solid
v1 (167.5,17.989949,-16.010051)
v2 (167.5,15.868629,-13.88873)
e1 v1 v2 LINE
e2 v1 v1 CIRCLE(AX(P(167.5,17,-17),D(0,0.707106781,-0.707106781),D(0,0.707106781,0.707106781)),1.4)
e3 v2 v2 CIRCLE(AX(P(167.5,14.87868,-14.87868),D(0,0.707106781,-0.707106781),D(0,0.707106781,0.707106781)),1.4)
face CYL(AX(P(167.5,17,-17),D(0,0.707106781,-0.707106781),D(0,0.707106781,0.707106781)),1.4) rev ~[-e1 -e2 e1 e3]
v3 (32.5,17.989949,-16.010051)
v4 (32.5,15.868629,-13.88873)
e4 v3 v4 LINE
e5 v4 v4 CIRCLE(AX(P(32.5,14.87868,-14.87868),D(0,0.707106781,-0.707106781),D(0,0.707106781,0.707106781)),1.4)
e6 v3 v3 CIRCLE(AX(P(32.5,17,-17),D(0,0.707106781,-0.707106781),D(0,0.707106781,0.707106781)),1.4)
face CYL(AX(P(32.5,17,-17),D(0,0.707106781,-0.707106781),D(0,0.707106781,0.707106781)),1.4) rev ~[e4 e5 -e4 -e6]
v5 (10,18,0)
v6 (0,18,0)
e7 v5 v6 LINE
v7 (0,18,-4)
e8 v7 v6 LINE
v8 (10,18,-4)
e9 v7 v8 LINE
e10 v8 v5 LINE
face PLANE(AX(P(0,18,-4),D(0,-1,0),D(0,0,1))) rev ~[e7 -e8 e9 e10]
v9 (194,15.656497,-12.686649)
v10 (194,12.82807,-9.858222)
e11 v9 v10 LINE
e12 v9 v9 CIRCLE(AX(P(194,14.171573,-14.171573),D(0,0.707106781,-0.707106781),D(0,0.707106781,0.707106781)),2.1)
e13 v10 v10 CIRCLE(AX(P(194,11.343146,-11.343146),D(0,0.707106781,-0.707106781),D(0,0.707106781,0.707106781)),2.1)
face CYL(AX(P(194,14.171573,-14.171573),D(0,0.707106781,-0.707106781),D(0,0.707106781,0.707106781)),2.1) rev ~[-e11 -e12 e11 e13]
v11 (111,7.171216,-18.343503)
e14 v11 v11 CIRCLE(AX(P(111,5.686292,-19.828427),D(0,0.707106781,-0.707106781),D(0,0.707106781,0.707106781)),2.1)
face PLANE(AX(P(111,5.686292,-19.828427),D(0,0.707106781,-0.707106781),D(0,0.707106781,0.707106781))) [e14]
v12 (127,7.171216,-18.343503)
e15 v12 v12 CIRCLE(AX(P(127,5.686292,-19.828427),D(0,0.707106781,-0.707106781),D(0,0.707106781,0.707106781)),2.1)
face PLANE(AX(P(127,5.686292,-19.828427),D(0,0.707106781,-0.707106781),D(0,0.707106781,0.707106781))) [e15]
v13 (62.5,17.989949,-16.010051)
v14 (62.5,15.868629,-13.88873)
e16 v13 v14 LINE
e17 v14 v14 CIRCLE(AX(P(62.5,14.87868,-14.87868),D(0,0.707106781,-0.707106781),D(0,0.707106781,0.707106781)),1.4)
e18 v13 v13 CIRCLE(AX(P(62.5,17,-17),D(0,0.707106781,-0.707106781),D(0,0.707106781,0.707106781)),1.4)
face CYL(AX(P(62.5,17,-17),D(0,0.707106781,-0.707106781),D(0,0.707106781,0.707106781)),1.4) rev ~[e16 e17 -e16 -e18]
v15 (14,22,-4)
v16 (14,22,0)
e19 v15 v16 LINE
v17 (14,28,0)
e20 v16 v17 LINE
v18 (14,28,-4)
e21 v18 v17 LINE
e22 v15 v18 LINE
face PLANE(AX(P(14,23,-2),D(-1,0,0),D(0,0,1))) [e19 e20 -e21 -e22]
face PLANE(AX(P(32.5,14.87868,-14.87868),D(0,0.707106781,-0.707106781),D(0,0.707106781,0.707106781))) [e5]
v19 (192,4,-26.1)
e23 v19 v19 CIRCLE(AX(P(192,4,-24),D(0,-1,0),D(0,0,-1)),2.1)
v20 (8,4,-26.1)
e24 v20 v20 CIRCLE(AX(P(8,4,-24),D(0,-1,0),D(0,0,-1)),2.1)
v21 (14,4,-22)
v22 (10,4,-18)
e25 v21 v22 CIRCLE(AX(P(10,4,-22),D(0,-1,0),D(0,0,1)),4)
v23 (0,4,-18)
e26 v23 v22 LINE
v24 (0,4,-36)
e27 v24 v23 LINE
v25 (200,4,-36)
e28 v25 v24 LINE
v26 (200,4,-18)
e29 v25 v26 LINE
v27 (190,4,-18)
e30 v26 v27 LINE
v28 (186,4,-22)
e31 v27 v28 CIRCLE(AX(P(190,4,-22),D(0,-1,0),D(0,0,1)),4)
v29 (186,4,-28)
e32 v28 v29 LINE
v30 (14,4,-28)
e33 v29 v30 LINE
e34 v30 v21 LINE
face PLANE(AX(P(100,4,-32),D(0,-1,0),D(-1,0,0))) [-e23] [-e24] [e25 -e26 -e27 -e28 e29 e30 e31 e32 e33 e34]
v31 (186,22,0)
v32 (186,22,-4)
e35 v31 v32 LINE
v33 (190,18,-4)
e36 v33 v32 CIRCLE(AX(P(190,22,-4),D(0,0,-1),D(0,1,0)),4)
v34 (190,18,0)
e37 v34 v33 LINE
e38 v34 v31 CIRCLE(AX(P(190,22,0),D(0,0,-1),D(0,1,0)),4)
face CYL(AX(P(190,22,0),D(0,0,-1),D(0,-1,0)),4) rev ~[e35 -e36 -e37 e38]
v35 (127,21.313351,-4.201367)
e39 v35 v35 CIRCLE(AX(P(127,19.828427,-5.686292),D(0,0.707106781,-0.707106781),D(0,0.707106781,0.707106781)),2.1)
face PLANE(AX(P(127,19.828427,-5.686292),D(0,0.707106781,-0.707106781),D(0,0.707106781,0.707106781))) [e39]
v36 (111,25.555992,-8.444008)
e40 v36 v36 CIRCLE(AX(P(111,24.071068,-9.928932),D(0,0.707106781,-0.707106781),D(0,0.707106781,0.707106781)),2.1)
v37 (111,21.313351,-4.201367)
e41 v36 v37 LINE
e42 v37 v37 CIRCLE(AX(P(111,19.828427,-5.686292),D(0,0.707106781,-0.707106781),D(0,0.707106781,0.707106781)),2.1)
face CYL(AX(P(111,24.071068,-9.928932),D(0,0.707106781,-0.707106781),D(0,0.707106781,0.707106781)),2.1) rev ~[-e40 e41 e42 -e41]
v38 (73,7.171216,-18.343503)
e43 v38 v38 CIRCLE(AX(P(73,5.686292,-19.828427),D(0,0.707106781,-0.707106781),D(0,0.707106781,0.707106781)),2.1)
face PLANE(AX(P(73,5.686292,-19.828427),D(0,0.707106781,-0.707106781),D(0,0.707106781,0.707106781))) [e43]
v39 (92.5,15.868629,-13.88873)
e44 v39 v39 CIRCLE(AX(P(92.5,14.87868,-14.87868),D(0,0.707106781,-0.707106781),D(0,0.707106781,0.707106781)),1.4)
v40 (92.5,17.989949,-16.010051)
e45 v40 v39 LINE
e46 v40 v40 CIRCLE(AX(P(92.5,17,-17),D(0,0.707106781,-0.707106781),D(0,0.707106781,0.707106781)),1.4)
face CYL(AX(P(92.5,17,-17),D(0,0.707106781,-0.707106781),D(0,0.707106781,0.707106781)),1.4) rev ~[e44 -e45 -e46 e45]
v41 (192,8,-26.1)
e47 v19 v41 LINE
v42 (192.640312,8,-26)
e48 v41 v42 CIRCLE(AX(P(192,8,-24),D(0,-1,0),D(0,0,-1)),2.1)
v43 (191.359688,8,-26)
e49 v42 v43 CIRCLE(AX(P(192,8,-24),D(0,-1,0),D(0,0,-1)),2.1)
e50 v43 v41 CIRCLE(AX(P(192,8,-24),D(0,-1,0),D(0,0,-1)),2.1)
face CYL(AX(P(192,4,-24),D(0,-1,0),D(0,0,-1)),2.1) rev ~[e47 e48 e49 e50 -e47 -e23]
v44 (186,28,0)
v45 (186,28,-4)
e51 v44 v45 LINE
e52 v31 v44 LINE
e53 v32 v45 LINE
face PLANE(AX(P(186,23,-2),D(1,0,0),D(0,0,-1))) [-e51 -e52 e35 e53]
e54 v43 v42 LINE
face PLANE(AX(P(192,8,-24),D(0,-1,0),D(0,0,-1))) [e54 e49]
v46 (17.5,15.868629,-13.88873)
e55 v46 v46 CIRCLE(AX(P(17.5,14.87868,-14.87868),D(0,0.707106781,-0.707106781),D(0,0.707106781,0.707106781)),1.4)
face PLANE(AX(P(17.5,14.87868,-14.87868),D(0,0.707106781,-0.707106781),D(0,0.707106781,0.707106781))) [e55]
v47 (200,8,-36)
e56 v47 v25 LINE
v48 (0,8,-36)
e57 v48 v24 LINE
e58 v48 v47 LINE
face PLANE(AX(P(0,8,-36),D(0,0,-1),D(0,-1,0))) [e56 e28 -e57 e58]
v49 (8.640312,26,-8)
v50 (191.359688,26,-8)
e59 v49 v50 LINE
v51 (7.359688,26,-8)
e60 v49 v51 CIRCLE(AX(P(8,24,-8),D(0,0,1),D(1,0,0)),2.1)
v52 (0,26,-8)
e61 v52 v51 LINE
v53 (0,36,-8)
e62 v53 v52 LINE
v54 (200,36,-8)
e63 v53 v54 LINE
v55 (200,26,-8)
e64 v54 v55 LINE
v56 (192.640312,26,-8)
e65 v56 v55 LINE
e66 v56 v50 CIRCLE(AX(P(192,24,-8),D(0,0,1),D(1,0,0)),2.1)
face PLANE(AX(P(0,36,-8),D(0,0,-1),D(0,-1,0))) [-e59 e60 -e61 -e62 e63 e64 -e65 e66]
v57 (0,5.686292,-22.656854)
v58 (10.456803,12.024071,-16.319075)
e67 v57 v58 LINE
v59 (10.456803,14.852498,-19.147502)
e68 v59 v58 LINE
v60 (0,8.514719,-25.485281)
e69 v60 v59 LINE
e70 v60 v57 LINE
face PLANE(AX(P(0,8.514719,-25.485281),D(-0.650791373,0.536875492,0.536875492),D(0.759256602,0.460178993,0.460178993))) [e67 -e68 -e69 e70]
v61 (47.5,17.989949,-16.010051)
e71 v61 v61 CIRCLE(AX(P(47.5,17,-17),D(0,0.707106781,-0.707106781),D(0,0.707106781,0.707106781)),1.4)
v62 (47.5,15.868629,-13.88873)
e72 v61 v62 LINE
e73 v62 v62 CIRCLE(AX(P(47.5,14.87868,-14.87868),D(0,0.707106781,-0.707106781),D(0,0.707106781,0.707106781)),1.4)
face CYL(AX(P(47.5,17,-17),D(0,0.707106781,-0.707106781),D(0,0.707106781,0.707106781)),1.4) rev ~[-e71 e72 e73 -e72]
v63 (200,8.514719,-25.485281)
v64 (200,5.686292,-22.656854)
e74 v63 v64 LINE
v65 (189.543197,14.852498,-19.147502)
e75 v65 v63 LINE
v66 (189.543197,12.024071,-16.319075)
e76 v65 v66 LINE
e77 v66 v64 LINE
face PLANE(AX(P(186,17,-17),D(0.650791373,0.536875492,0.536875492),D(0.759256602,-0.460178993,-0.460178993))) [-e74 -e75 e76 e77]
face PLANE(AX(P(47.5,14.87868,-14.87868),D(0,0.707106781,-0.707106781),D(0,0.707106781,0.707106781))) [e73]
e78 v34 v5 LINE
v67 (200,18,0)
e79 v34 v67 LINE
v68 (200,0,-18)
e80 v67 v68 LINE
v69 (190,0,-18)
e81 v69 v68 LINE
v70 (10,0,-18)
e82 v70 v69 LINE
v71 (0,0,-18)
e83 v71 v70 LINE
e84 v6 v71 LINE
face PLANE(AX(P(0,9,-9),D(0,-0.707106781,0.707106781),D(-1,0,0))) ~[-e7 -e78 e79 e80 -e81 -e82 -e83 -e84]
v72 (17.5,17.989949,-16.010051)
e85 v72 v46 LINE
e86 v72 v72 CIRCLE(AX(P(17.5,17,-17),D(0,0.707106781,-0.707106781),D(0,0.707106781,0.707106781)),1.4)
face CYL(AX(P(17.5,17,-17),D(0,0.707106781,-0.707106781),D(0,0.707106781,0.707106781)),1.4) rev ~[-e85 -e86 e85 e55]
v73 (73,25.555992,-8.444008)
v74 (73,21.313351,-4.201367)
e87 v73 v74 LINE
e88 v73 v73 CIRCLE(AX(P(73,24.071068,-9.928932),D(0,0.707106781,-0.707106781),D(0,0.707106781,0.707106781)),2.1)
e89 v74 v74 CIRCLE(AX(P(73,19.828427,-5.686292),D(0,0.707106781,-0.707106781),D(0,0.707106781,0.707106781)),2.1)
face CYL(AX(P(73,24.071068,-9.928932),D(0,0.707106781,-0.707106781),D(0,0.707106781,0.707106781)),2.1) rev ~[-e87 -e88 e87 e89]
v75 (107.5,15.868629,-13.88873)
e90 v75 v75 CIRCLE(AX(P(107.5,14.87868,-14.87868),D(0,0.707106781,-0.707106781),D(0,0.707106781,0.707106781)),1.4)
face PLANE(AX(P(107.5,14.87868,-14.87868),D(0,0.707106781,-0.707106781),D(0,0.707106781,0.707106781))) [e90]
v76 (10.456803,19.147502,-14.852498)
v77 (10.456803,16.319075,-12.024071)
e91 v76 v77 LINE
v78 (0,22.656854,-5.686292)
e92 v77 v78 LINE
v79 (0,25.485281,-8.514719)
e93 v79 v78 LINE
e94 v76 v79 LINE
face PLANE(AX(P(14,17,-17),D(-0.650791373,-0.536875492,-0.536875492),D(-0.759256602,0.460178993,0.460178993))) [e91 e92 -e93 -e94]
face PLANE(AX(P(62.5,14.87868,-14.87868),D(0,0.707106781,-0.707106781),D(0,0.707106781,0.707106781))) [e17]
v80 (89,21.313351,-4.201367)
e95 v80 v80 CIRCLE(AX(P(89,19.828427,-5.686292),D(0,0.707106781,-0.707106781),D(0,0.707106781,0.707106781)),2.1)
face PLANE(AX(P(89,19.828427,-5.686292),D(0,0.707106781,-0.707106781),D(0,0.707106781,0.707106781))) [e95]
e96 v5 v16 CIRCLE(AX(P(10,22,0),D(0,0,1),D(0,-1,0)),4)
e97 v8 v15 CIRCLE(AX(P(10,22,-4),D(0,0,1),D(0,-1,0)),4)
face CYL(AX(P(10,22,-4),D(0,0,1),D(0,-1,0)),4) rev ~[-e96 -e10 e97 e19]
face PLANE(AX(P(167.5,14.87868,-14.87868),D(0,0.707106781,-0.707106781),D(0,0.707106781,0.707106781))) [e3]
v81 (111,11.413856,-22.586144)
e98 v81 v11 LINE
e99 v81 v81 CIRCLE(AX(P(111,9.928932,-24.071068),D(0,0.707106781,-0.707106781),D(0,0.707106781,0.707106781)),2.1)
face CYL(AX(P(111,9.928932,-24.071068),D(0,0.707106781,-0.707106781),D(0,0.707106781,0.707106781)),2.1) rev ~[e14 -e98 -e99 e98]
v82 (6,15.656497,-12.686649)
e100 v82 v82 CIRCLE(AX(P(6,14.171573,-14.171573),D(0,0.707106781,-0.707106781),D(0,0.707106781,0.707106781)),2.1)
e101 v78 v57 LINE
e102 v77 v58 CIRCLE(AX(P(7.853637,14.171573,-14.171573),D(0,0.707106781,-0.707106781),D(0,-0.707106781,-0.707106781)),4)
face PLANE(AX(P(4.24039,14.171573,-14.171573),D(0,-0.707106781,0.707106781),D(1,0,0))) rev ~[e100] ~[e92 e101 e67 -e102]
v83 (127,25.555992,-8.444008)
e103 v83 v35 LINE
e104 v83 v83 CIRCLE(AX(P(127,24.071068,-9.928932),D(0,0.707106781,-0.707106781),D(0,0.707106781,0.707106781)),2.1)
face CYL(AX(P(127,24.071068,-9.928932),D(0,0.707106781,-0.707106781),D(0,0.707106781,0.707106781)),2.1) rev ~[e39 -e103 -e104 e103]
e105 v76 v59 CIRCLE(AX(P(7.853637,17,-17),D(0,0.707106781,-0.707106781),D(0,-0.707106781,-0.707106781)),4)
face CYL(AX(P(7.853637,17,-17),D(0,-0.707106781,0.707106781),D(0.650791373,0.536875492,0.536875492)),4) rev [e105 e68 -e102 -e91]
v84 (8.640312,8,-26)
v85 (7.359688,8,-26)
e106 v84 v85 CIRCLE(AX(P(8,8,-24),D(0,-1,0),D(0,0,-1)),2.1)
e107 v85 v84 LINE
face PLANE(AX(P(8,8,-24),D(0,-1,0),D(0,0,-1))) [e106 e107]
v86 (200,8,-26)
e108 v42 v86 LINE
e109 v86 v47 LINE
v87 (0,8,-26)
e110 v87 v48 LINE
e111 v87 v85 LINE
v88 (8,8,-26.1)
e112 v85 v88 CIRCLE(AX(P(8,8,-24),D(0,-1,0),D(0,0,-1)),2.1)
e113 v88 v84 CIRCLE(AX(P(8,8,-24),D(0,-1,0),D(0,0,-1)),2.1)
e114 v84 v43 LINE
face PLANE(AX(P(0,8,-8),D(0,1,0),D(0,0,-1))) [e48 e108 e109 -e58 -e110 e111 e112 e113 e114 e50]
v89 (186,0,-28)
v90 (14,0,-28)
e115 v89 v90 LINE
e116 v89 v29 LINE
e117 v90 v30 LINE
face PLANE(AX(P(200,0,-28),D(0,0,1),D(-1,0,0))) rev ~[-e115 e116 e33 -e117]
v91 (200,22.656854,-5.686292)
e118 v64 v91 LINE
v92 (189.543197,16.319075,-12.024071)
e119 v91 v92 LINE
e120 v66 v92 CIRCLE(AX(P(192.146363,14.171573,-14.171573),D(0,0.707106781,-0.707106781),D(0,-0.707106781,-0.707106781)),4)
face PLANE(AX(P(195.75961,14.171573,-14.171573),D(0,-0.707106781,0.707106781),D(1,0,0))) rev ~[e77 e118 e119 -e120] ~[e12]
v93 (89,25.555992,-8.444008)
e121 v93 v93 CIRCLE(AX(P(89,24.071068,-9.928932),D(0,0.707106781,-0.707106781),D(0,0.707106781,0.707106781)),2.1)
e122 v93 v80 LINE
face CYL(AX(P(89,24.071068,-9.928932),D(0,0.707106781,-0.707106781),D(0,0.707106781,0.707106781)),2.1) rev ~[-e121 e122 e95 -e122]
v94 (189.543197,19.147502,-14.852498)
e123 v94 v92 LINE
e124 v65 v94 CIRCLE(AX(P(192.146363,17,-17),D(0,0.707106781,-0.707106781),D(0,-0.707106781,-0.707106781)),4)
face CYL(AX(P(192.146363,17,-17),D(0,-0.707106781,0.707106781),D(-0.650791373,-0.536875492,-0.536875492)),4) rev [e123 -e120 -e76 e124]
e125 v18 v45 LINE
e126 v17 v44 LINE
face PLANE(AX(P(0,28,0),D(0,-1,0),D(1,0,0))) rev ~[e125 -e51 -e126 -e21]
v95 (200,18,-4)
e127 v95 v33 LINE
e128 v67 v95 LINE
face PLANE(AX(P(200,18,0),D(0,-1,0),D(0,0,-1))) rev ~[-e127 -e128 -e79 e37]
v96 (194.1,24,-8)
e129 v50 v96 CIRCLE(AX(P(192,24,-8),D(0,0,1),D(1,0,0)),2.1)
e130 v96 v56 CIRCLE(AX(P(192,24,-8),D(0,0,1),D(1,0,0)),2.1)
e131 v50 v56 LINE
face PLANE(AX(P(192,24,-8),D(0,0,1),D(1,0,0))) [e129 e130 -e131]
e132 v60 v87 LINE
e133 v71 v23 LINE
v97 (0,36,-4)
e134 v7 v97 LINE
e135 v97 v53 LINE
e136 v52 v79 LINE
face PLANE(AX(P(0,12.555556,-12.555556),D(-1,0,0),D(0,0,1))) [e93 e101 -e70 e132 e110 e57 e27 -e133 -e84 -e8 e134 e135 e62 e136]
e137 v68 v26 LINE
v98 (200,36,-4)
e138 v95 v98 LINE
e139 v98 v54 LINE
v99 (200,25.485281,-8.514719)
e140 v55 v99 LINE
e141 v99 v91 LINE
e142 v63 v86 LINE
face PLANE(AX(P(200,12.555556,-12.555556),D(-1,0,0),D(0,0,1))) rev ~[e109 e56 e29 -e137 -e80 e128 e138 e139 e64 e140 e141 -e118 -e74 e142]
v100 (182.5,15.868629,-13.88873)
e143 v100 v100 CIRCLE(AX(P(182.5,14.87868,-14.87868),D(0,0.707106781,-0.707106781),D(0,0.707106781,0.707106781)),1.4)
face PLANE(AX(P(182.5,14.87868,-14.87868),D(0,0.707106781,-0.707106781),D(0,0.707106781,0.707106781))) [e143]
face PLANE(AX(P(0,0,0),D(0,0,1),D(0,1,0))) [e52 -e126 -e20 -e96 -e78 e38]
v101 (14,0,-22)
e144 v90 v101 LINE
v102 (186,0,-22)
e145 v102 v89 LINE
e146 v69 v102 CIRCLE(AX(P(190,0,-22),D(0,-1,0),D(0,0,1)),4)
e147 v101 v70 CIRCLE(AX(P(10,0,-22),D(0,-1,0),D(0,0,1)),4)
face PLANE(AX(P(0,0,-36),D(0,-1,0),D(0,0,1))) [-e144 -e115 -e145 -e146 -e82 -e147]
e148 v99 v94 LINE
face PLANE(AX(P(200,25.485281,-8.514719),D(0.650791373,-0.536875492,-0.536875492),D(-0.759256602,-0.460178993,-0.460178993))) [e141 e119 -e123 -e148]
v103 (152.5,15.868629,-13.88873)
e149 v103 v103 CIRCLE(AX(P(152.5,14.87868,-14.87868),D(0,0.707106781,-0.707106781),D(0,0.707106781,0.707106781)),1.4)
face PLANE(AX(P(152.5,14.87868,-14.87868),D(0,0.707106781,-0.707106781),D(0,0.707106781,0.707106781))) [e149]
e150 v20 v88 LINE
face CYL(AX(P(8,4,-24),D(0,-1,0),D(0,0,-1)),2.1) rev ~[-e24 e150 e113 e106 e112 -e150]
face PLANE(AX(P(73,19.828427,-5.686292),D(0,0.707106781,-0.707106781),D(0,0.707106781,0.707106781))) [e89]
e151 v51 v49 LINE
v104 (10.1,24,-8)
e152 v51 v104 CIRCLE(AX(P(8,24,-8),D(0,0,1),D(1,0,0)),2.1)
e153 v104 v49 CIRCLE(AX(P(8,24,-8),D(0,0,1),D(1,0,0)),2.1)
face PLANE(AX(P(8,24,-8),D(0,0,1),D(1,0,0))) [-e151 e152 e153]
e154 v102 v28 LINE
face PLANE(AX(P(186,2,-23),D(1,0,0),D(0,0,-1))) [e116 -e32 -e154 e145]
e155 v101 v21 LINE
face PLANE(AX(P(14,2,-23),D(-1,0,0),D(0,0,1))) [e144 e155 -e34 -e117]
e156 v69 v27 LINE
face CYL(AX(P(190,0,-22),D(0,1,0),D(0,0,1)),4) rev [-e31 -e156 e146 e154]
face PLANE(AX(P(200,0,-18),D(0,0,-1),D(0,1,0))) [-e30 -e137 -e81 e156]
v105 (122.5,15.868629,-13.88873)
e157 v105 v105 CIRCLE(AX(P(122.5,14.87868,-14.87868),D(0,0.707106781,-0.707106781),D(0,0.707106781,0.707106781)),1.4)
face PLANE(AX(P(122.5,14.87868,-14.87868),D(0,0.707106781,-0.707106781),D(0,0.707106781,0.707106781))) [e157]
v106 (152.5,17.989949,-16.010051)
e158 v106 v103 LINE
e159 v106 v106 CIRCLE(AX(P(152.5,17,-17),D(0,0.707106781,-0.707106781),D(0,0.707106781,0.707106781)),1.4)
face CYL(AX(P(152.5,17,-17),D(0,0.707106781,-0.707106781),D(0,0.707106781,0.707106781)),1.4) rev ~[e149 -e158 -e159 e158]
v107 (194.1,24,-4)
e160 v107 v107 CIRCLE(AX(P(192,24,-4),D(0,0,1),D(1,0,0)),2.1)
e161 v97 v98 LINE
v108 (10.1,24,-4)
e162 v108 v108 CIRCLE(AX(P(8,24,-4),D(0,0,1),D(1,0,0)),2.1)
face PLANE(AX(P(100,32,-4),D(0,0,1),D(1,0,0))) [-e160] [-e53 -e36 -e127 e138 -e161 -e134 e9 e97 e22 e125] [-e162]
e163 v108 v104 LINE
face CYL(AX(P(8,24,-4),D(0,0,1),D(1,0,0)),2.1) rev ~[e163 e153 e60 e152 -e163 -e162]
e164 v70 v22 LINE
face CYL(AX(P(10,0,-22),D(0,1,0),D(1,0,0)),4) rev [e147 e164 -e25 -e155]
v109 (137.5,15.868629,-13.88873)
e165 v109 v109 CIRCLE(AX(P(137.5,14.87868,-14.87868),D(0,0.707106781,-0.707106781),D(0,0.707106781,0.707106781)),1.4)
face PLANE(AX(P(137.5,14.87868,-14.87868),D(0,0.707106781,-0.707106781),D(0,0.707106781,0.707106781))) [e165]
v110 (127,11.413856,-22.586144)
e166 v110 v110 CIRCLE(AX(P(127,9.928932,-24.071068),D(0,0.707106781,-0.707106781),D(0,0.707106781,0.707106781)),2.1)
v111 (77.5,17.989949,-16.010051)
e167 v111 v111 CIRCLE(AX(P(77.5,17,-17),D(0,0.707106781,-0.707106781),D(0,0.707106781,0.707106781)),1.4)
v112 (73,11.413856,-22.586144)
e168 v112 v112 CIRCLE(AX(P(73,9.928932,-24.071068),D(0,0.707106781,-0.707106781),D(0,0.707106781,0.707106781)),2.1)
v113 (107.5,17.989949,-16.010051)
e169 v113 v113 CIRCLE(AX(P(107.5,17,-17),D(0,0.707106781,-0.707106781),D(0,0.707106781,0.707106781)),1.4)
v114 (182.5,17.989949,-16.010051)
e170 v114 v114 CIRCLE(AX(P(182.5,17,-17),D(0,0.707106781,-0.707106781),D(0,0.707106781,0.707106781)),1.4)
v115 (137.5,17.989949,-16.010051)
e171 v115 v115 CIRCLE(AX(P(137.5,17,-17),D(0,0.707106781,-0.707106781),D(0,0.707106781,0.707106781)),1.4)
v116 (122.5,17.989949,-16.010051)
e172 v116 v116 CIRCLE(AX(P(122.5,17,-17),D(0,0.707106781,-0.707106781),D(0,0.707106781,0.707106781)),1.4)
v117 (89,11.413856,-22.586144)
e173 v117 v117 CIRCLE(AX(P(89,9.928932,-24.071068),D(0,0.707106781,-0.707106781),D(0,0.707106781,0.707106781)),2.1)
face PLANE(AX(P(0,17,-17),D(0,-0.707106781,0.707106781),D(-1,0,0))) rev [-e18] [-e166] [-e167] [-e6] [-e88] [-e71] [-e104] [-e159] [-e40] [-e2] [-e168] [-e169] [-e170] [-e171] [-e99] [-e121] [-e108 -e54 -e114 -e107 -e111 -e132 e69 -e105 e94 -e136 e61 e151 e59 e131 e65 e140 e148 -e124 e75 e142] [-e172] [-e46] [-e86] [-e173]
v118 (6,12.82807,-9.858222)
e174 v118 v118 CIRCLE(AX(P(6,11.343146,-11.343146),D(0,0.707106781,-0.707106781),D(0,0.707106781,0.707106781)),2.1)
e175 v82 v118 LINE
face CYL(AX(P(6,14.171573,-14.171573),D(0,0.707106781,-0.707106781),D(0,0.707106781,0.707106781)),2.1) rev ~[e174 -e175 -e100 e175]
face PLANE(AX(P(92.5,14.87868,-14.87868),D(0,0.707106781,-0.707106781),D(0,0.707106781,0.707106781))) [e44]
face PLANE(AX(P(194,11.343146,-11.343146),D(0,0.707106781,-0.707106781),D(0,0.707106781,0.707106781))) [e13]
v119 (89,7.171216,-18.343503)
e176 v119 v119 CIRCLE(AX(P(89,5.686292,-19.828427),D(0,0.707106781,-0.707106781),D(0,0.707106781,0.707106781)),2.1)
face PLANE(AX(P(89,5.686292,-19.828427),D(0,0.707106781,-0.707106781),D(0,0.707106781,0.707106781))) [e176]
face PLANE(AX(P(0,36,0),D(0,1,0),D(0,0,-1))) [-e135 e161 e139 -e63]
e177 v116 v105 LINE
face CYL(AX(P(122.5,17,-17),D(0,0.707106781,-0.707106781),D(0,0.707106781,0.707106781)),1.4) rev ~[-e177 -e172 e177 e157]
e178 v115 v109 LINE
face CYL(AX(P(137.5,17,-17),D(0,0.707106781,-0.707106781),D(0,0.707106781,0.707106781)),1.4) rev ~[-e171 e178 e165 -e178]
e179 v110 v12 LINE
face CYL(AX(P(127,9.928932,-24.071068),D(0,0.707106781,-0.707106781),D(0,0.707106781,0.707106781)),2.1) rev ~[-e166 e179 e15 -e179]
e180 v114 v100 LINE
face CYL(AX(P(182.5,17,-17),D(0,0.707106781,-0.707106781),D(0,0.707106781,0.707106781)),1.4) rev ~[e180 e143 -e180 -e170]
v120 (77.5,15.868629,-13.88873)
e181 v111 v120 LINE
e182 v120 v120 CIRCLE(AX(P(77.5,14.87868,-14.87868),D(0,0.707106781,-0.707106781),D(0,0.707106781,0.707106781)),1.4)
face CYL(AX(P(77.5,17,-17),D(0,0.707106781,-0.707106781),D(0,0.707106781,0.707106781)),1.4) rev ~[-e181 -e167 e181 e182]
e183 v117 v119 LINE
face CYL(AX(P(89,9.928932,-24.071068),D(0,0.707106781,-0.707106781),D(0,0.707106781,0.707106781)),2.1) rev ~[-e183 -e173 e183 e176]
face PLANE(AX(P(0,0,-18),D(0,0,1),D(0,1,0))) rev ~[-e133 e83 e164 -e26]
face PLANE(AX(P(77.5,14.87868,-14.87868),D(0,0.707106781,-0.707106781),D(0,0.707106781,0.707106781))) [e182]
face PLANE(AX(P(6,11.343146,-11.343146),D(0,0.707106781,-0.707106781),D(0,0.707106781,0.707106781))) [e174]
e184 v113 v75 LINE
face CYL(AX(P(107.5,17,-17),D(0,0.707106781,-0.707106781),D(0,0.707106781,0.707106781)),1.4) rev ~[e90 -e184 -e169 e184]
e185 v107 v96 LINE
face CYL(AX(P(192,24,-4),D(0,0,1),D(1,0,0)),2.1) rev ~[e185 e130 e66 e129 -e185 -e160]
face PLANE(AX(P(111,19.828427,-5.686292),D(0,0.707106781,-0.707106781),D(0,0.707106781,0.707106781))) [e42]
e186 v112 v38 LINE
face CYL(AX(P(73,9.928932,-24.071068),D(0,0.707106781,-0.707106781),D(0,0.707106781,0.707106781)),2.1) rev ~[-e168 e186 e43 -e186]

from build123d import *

# Parameters (mm, degrees)
BOSS_EXTRUDE3_DEPTH = 200
CHAMFER2_SIZE       = 18
CHAMFER3_SIZE       = 18
SKETCH6_W           = 200
SKETCH6_H           = 8
CUT_EXTRUDE2_DEPTH  = 4
SKETCH7_W           = 200
SKETCH7_H           = 8
CUT_EXTRUDE3_DEPTH  = 4
SKETCH8_R           = 1.4
CUT_EXTRUDE4_DEPTH  = 3
SKETCH9_R           = 2.1
CUT_EXTRUDE5_DEPTH  = 6
SKETCH10_R          = 2.1
CUT_EXTRUDE6_DEPTH  = 6
CUT_EXTRUDE7_DEPTH  = 4
SKETCH12_W          = 4
SKETCH12_H          = 10
SKETCH12_W_2        = 10
SKETCH12_H_2        = 4
CUT_EXTRUDE8_DEPTH  = 14
FILLET1_R           = 4
FILLET2_R           = 4
SKETCH13_W          = 4
SKETCH13_H          = 10
SKETCH13_W_2        = 10
SKETCH13_H_2        = 4
CUT_EXTRUDE9_DEPTH  = 14
FILLET3_R           = 4
SKETCH14_R          = 2.1
CUT_EXTRUDE10_DEPTH = 4
SKETCH15_R          = 2.1
CUT_EXTRUDE11_DEPTH = 4
SKETCH16_R          = 2.1
CUT_EXTRUDE12_DEPTH = 4


with BuildPart() as part:
    # Sketch5 → Boss-Extrude3 (new body)
    with BuildSketch(Plane(origin=(0, 0, 0), x_dir=(0, 0, -1), z_dir=(1, 0, 0))):
        Polygon((0, 0), (0, 36), (8, 36), (8, 8), (36, 8), (36, 0), align=None)
    extrude(amount=BOSS_EXTRUDE3_DEPTH)

    # Chamfer2
    chamfer2_edges = [part.edges().sort_by_distance(p)[0] for p in [
        (100, 8, -8),
    ]]
    chamfer(chamfer2_edges, length=CHAMFER2_SIZE)

    # Chamfer3
    chamfer3_edges = [part.edges().sort_by_distance(p)[0] for p in [
        (100, 0, 0),
    ]]
    chamfer(chamfer3_edges, length=CHAMFER3_SIZE)

    # Sketch6 → Cut-Extrude2 (cut)
    with BuildSketch(Plane(origin=(0, 0, 0), x_dir=(-1, 0, 0), z_dir=(0, -1, 0))):
        with Locations((-100, 32)):
            Rectangle(SKETCH6_W, SKETCH6_H)
    extrude(amount=-CUT_EXTRUDE2_DEPTH, mode=Mode.SUBTRACT)

    # Sketch7 → Cut-Extrude3 (cut)
    with BuildSketch(Plane.XY):
        with Locations((100, 32)):
            Rectangle(SKETCH7_W, SKETCH7_H)
    extrude(amount=-CUT_EXTRUDE3_DEPTH, mode=Mode.SUBTRACT)

    # Sketch8 → Cut-Extrude4 (cut)
    with BuildSketch(Plane(origin=(0, 17, -17), x_dir=(-1, 0, 0), z_dir=(0, 0.7071067811865438, -0.7071067811865512))):
        with Locations(Location((-182.5, 0, 0), (0, 0, 90))):
            Circle(SKETCH8_R)
        with Locations(Location((-167.5, 0, 0), (0, 0, 90))):
            Circle(SKETCH8_R)
        with Locations(Location((-152.5, 0, 0), (0, 0, 90))):
            Circle(SKETCH8_R)
        with Locations(Location((-137.5, 0, 0), (0, 0, 90))):
            Circle(SKETCH8_R)
        with Locations(Location((-122.5, 0, 0), (0, 0, 90))):
            Circle(SKETCH8_R)
        with Locations(Location((-107.5, 0, 0), (0, 0, 90))):
            Circle(SKETCH8_R)
        with Locations(Location((-92.5, 0, 0), (0, 0, 90))):
            Circle(SKETCH8_R)
        with Locations(Location((-77.5, 0, 0), (0, 0, 90))):
            Circle(SKETCH8_R)
        with Locations(Location((-62.5, 0, 0), (0, 0, 90))):
            Circle(SKETCH8_R)
        with Locations(Location((-47.5, 0, 0), (0, 0, 90))):
            Circle(SKETCH8_R)
        with Locations(Location((-32.5, 0, 0), (0, 0, 90))):
            Circle(SKETCH8_R)
        with Locations(Location((-17.5, 0, 0), (0, 0, 90))):
            Circle(SKETCH8_R)
    extrude(amount=-CUT_EXTRUDE4_DEPTH, mode=Mode.SUBTRACT)

    # Sketch9 → Cut-Extrude5 (cut)
    with BuildSketch(Plane(origin=(0, 17, -17), x_dir=(-1, 0, 0), z_dir=(0, 0.7071067811865438, -0.7071067811865512))):
        with Locations(Location((-73, -10, 0), (0, 0, 90))):
            Circle(SKETCH9_R)
        with Locations(Location((-127, -10, 0), (0, 0, 90))):
            Circle(SKETCH9_R)
        with Locations(Location((-127, 10, 0), (0, 0, 90))):
            Circle(SKETCH9_R)
        with Locations(Location((-73, 10, 0), (0, 0, 90))):
            Circle(SKETCH9_R)
    extrude(amount=-CUT_EXTRUDE5_DEPTH, mode=Mode.SUBTRACT)

    # Sketch10 → Cut-Extrude6 (cut)
    with BuildSketch(Plane(origin=(0, 17, -17), x_dir=(-1, 0, 0), z_dir=(0, 0.7071067811865438, -0.7071067811865512))):
        with Locations(Location((-89, -10, 0), (0, 0, 90))):
            Circle(SKETCH10_R)
        with Locations(Location((-111, -10, 0), (0, 0, 90))):
            Circle(SKETCH10_R)
        with Locations(Location((-111, 10, 0), (0, 0, 90))):
            Circle(SKETCH10_R)
        with Locations(Location((-89, 10, 0), (0, 0, 90))):
            Circle(SKETCH10_R)
    extrude(amount=-CUT_EXTRUDE6_DEPTH, mode=Mode.SUBTRACT)

    # Sketch11 → Cut-Extrude7 (cut)
    with BuildSketch(Plane(origin=(0, 17, -17), x_dir=(-1, 0, 0), z_dir=(0, 0.7071067811865438, -0.7071067811865512))):
        Polygon((0, -12), (-14, 0), (0, 12), align=None)
        Polygon((-200, 12), (-186, 0), (-200, -12), align=None)
    extrude(amount=-CUT_EXTRUDE7_DEPTH, mode=Mode.SUBTRACT)

    # Sketch12 → Cut-Extrude8 (cut)
    with BuildSketch(Plane(origin=(200, 0, 0), x_dir=(0, 0, -1), z_dir=(1, 0, 0))):
        with Locations((2, 23)):
            Rectangle(SKETCH12_W, SKETCH12_H)
        with Locations((23, 2)):
            Rectangle(SKETCH12_W_2, SKETCH12_H_2)
    extrude(amount=-CUT_EXTRUDE8_DEPTH, mode=Mode.SUBTRACT)

    # Fillet1
    fillet1_edges = [part.edges().sort_by_distance(p)[0] for p in [
        (14, 15.585786438, -15.585786438),
        (186, 15.585786438, -15.585786438),
    ]]
    fillet(fillet1_edges, radius=FILLET1_R)

    # Fillet2
    fillet2_edges = [part.edges().sort_by_distance(p)[0] for p in [
        (186, 18, -2),
        (186, 2, -18),
    ]]
    fillet(fillet2_edges, radius=FILLET2_R)

    # Sketch13 → Cut-Extrude9 (cut)
    with BuildSketch(Plane.ZY):
        with Locations((-2, 23)):
            Rectangle(SKETCH13_W, SKETCH13_H)
        with Locations((-23, 2)):
            Rectangle(SKETCH13_W_2, SKETCH13_H_2)
    extrude(amount=-CUT_EXTRUDE9_DEPTH, mode=Mode.SUBTRACT)

    # Fillet3
    fillet3_edges = [part.edges().sort_by_distance(p)[0] for p in [
        (14, 18, -2),
        (14, 2, -18),
    ]]
    fillet(fillet3_edges, radius=FILLET3_R)

    # Sketch14 → Cut-Extrude10 (cut)
    with BuildSketch(Plane.XY.offset(-4)):
        with Locations((192, 24)):
            Circle(SKETCH14_R)
        with Locations((8, 24)):
            Circle(SKETCH14_R)
    extrude(amount=-CUT_EXTRUDE10_DEPTH, mode=Mode.SUBTRACT)

    # Sketch15 → Cut-Extrude11 (cut)
    with BuildSketch(Plane(origin=(0, 4, 0), x_dir=(-1, 0, 0), z_dir=(0, -1, 0))):
        with Locations(Location((-8, 24, 0), (0, 0, 90))):
            Circle(SKETCH15_R)
        with Locations(Location((-192, 24, 0), (0, 0, 90))):
            Circle(SKETCH15_R)
    extrude(amount=-CUT_EXTRUDE11_DEPTH, mode=Mode.SUBTRACT)

    # Sketch16 → Cut-Extrude12 (cut)
    with BuildSketch(Plane(origin=(0, 14.171572875, -14.171572875), x_dir=(-1, 0, 0), z_dir=(0, 0.7071067811865438, -0.7071067811865513))):
        with Locations(Location((-6, 0, 0), (0, 0, 90))):
            Circle(SKETCH16_R)
        with Locations(Location((-194, 0, 0), (0, 0, 90))):
            Circle(SKETCH16_R)
    extrude(amount=-CUT_EXTRUDE12_DEPTH, mode=Mode.SUBTRACT)


solid = part.part
